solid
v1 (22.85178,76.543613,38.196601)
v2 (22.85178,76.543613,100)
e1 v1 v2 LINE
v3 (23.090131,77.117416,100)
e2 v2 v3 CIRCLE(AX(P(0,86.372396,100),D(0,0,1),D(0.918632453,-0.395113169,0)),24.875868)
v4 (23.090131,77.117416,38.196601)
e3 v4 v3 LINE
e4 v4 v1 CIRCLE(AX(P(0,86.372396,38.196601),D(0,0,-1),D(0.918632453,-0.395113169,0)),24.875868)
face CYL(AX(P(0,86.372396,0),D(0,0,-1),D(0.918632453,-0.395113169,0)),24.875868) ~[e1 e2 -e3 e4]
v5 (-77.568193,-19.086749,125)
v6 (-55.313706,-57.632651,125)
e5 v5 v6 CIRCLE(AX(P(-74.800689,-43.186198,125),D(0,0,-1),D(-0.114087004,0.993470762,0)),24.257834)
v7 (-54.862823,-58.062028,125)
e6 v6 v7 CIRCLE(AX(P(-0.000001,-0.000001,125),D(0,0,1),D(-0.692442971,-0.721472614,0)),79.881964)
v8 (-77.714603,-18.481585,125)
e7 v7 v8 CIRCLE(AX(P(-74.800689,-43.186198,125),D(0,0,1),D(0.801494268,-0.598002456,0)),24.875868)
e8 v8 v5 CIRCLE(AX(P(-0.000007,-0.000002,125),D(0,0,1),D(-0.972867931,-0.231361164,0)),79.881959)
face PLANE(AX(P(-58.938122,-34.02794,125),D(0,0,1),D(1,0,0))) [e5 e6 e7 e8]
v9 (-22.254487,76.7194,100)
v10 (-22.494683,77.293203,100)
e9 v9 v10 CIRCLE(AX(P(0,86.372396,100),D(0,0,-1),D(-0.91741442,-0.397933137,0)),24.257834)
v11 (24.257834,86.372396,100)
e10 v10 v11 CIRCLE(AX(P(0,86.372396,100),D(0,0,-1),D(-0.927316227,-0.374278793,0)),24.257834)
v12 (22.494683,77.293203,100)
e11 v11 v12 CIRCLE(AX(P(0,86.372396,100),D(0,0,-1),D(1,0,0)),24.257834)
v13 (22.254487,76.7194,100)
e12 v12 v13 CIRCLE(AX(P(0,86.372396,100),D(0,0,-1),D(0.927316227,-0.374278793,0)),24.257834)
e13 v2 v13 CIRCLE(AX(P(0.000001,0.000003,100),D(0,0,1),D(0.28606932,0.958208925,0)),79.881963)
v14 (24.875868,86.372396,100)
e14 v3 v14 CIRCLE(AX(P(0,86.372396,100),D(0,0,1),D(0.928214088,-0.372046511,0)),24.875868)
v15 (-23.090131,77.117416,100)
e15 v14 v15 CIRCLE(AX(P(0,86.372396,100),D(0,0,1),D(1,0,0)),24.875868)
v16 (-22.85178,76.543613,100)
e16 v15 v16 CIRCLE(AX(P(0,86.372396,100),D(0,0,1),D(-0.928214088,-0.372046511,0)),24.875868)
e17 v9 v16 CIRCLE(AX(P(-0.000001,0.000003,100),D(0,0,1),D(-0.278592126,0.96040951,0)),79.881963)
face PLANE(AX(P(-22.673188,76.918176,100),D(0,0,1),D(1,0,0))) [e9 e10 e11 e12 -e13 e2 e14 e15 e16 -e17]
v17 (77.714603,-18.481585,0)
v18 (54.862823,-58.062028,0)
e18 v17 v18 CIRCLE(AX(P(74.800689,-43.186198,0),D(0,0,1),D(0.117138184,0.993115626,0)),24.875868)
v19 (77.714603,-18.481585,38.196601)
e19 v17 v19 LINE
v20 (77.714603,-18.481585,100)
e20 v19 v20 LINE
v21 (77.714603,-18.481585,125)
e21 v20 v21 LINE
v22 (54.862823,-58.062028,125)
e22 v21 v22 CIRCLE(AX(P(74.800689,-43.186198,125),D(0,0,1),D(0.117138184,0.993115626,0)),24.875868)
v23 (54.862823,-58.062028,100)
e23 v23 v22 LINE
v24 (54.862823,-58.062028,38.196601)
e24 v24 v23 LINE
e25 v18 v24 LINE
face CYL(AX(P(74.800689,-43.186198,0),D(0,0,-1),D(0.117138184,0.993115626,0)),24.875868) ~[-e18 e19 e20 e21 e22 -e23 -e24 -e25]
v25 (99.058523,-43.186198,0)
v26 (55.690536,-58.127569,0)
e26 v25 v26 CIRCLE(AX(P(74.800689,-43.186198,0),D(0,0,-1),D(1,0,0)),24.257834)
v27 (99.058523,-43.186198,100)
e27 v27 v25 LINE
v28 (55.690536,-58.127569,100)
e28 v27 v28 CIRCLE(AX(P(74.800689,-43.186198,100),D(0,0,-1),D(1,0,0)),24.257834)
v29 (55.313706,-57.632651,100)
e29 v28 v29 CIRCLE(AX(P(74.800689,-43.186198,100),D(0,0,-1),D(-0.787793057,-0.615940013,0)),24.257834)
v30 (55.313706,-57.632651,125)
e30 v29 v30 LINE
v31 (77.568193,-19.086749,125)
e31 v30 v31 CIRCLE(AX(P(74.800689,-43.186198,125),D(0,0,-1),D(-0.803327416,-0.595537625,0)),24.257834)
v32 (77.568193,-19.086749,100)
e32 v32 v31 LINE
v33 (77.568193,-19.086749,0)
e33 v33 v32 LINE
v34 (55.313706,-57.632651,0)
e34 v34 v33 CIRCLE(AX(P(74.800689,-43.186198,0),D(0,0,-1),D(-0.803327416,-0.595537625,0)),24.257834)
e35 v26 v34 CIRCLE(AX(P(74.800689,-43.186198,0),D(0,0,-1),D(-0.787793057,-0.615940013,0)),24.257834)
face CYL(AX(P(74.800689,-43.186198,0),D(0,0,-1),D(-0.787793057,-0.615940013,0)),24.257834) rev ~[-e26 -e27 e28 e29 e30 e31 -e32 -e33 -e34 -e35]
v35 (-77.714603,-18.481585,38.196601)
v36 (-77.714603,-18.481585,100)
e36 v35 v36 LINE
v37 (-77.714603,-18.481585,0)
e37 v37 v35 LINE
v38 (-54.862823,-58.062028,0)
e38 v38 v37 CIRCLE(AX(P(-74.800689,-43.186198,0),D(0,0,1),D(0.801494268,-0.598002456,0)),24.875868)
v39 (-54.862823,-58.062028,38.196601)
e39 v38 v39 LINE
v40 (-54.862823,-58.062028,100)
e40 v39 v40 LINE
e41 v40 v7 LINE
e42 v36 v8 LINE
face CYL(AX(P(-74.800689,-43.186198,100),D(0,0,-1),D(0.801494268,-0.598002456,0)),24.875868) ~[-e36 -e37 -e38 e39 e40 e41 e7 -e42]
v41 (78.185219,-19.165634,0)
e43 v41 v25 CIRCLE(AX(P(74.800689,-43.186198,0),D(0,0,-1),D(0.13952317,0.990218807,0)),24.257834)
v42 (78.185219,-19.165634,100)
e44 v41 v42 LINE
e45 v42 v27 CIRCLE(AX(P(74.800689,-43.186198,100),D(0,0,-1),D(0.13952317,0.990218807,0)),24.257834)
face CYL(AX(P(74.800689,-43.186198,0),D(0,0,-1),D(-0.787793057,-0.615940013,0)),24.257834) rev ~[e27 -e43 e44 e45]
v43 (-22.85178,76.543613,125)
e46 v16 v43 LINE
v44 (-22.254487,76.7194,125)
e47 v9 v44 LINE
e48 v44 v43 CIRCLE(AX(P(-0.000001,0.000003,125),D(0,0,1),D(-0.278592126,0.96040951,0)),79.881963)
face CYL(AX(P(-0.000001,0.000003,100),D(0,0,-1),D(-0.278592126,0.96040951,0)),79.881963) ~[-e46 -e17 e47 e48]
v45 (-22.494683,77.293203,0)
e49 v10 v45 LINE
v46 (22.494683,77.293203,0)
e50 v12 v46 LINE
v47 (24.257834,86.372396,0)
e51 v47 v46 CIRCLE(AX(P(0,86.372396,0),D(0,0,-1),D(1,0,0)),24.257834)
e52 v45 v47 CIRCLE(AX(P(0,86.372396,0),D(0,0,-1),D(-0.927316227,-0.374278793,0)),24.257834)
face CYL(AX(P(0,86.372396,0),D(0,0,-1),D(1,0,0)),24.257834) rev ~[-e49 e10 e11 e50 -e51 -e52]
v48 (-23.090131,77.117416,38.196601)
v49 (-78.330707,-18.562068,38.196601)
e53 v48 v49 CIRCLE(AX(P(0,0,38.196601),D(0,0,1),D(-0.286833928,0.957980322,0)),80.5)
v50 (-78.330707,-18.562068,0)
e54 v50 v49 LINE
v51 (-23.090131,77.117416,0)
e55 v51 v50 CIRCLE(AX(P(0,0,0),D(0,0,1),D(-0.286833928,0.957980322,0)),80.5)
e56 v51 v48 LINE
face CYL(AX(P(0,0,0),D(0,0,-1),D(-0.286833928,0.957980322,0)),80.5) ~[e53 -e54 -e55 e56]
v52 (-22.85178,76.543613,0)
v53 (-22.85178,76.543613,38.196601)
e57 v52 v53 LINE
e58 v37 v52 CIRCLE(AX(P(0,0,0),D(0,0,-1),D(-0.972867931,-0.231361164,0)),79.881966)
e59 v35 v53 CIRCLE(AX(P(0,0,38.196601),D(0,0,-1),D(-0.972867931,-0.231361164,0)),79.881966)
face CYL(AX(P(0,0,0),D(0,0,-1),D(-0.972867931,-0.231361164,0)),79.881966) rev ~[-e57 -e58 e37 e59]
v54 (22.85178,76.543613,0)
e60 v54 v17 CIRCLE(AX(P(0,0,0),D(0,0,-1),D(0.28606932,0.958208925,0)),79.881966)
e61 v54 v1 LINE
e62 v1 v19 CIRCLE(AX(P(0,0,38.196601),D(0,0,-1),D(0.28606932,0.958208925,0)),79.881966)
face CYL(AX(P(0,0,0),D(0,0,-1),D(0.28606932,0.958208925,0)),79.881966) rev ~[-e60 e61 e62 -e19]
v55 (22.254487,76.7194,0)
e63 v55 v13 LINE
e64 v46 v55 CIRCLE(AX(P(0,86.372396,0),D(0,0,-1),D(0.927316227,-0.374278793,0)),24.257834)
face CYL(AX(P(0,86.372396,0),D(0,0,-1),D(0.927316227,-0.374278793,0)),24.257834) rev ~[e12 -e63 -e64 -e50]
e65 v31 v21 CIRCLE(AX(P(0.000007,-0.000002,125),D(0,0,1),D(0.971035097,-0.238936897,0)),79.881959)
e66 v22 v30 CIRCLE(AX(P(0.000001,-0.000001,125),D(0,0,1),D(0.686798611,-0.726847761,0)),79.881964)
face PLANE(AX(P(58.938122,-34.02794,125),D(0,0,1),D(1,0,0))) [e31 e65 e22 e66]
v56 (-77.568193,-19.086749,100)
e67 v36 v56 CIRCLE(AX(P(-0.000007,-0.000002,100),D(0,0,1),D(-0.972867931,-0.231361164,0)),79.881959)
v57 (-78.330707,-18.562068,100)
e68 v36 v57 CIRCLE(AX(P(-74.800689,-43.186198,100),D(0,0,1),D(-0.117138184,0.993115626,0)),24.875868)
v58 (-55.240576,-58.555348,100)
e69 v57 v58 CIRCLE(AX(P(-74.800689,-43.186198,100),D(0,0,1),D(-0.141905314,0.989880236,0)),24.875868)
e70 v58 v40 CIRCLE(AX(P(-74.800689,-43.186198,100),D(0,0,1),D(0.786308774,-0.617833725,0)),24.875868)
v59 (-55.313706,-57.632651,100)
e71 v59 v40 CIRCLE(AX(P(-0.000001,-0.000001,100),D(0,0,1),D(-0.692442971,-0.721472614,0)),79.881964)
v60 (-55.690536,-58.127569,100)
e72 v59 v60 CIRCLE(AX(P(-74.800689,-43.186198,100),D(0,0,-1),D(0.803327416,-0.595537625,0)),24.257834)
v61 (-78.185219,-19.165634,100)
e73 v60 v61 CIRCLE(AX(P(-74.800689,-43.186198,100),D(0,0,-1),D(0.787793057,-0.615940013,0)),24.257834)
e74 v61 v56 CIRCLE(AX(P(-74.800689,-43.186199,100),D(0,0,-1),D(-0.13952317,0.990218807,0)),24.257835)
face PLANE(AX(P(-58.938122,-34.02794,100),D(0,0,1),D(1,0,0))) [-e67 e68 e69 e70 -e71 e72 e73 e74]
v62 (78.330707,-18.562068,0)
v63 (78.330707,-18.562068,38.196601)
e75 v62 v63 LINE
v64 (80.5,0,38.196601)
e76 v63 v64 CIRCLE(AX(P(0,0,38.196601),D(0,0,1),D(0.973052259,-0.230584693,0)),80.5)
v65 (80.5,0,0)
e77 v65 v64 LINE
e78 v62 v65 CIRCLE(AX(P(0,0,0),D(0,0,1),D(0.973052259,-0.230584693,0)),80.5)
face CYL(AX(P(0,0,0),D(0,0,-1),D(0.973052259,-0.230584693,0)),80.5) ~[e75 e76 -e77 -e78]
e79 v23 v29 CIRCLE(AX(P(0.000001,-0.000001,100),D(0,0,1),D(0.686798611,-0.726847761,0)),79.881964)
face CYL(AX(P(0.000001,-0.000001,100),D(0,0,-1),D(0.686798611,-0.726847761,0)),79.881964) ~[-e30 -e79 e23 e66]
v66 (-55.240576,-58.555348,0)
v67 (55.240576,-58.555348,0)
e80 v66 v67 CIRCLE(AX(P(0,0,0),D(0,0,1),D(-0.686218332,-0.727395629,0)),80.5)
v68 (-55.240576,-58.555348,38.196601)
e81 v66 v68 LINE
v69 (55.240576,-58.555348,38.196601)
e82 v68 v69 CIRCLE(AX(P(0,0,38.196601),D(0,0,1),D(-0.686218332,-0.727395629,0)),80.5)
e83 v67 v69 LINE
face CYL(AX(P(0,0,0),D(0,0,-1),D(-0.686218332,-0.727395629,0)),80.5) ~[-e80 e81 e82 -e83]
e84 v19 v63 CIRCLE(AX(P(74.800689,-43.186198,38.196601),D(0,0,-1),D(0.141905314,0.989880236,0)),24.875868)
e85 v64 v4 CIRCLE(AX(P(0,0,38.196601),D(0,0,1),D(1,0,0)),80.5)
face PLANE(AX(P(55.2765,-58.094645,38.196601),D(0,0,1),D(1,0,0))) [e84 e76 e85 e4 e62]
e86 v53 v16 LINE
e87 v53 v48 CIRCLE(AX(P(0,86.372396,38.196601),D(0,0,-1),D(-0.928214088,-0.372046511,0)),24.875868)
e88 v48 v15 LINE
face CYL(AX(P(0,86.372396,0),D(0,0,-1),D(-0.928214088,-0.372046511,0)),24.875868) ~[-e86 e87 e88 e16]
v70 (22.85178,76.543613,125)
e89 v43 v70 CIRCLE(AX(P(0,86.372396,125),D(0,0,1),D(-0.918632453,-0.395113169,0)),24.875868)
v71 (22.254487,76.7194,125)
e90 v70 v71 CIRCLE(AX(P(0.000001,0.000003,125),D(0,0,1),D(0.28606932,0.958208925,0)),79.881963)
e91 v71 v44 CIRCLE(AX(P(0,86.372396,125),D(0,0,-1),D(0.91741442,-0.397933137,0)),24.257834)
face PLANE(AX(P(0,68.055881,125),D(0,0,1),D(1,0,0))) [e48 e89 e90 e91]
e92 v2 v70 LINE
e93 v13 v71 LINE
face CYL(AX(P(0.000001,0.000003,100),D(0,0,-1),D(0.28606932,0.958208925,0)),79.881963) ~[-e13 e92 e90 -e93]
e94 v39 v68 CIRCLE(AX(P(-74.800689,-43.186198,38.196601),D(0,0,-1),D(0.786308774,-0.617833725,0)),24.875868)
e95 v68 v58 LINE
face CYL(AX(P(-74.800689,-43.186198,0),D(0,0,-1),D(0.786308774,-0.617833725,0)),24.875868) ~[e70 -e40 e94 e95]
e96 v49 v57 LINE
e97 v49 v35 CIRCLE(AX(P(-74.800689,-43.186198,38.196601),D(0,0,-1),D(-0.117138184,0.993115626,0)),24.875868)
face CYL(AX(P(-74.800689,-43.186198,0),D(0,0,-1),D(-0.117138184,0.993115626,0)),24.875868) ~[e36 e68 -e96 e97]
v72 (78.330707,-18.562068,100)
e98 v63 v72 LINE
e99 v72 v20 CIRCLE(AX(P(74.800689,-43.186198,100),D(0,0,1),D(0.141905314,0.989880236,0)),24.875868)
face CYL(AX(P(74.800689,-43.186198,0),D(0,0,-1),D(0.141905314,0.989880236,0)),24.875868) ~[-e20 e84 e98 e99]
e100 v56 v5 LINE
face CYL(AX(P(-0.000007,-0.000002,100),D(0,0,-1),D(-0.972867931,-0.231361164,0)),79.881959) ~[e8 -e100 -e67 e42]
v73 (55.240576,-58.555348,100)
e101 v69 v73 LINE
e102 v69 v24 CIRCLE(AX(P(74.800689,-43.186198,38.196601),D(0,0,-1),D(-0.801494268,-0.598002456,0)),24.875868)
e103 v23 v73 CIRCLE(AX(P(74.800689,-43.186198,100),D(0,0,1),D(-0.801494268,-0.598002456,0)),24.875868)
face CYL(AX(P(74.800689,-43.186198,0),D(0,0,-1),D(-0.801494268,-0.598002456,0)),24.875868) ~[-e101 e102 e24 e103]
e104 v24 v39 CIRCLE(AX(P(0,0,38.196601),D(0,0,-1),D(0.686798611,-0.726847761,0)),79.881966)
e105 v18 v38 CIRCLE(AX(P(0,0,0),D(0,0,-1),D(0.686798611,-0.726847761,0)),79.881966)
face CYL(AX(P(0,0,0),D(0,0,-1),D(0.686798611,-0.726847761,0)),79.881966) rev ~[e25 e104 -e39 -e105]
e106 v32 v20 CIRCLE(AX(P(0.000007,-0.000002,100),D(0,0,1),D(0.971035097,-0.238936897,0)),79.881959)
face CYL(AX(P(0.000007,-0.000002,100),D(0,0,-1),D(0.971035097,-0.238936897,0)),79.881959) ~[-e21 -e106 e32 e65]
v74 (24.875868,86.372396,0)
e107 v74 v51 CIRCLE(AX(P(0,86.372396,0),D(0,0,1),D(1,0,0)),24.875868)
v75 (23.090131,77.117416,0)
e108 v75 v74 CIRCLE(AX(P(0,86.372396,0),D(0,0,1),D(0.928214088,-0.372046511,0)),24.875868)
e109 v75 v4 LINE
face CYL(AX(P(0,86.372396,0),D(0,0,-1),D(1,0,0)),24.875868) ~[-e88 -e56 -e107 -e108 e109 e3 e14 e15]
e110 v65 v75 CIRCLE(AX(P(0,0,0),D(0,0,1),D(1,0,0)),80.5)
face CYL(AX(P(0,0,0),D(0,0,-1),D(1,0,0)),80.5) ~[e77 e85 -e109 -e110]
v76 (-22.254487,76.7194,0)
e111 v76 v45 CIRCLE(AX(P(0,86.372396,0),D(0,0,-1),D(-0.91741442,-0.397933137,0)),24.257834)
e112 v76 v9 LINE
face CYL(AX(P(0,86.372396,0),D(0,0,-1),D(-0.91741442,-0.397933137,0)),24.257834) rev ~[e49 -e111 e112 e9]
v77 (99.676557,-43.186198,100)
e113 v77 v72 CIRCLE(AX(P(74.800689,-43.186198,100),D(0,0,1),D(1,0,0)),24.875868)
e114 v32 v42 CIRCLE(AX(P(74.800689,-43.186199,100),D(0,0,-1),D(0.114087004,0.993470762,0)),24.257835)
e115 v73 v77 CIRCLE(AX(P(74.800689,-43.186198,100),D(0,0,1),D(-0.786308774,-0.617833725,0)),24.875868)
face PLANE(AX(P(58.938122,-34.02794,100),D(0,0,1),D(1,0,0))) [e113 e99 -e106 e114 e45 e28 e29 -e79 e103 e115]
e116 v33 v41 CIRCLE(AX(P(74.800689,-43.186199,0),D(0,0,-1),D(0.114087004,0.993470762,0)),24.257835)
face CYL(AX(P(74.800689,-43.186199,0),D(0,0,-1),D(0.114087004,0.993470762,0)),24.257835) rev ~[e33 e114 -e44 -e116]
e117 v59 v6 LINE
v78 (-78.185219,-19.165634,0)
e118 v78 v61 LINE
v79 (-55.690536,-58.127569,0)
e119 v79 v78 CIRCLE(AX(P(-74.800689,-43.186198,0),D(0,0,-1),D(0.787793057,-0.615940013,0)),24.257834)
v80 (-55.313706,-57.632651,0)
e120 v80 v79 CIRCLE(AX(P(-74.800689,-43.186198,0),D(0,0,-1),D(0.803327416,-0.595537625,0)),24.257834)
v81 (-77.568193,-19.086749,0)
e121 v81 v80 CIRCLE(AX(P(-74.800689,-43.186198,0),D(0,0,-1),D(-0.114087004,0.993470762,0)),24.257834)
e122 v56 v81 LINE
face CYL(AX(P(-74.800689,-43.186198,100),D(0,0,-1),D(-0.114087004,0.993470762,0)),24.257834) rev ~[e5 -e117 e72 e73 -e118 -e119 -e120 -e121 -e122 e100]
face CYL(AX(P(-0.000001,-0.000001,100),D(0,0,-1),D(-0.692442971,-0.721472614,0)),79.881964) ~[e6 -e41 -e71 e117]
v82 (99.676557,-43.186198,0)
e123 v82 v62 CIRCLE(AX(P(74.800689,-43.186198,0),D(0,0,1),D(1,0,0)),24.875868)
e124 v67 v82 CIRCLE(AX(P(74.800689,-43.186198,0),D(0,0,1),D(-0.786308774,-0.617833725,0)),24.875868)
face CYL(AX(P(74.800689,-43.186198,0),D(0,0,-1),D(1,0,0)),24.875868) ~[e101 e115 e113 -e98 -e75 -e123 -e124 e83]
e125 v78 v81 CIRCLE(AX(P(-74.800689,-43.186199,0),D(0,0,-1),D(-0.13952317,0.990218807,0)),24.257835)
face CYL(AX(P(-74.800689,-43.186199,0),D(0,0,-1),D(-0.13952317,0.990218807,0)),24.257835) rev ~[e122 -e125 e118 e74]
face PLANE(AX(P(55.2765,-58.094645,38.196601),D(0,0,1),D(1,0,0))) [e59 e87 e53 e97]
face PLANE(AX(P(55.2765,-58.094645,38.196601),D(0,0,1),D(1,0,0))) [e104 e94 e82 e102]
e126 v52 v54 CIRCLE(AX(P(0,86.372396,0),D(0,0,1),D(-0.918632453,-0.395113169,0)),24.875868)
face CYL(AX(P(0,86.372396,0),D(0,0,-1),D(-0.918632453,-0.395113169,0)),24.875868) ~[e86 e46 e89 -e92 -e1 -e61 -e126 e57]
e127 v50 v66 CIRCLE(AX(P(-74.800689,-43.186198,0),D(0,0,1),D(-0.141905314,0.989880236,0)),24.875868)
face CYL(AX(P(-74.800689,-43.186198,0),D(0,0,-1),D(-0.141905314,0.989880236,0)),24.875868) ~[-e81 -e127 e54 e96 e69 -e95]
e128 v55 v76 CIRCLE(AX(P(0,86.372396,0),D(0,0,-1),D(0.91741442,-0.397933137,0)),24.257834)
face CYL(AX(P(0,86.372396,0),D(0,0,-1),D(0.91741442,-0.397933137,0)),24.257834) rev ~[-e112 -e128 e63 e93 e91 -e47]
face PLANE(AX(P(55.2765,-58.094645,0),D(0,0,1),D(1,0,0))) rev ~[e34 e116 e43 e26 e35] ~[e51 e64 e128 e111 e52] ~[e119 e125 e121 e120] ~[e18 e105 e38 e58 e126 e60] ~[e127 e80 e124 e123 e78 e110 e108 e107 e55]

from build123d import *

# Parameters (mm, degrees)
F5_DEPTH = 38.196601125
F6_DEPTH = 100
F8_DEPTH = 25


with BuildPart() as f5:
    # F4 (on Top) → F5 (new body)
    with BuildSketch(Plane.XY):
        with BuildLine():
            ThreePointArc((55.2405756929, -58.5553481513), (55.4659681323, -58.3418921457), (55.6905357594, -58.1275685611))
            ThreePointArc((55.6905357594, -58.1275685611), (55.5005343284, -57.8813176256), (55.3137058467, -57.6326508095))
            ThreePointArc((55.3137058467, -57.6326508095), (55.0886829293, -57.8477787555), (54.8628233356, -58.0620281206))
            ThreePointArc((54.8628233356, -58.0620281206), (55.0501592129, -58.3098675984), (55.2405756929, -58.5553481513))
        make_face()
        with BuildLine():
            ThreePointArc((-55.2405756929, -58.5553481513), (0, -80.5), (55.2405756929, -58.5553481513))
            ThreePointArc((55.2405756929, -58.5553481513), (55.0501592129, -58.3098675984), (54.8628233356, -58.0620281206))
            ThreePointArc((54.8628233356, -58.0620281206), (0, -79.8819660113), (-54.8628233356, -58.0620281206))
            ThreePointArc((-54.8628233356, -58.0620281206), (-55.0501592129, -58.3098675984), (-55.2405756929, -58.5553481513))
        make_face()
        with BuildLine():
            ThreePointArc((-55.6905357594, -58.1275685611), (-55.4659681323, -58.3418921457), (-55.2405756929, -58.5553481513))
            ThreePointArc((-55.2405756929, -58.5553481513), (-55.0501592129, -58.3098675984), (-54.8628233356, -58.0620281206))
            ThreePointArc((-54.8628233356, -58.0620281206), (-55.0886829293, -57.8477787555), (-55.3137058467, -57.6326508095))
            ThreePointArc((-55.3137058467, -57.6326508095), (-55.5005343284, -57.8813176256), (-55.6905357594, -58.1275685611))
        make_face()
        with BuildLine():
            ThreePointArc((-77.7146030154, -18.4815846716), (-69.17981187, 39.9409830056), (-22.8517796799, 76.5436127922))
            ThreePointArc((-22.8517796799, 76.5436127922), (-22.9727470251, 76.8297701599), (-23.09013118, 77.1174159454))
            ThreePointArc((-23.09013118, 77.1174159454), (-69.7150450046, 40.25), (-78.3307068729, -18.5620677941))
            ThreePointArc((-78.3307068729, -18.5620677941), (-78.022906238, -18.5199025615), (-77.7146030154, -18.4815846716))
        make_face()
        with BuildLine():
            ThreePointArc((-77.5681926118, -19.0867490359), (-77.6419874194, -18.7843095), (-77.7146030154, -18.4815846716))
            ThreePointArc((-77.7146030154, -18.4815846716), (-78.022906238, -18.5199025615), (-78.3307068729, -18.5620677941))
            ThreePointArc((-78.3307068729, -18.5620677941), (-78.2585447692, -18.8639913752), (-78.1852189139, -19.1656344374))
            ThreePointArc((-78.1852189139, -19.1656344374), (-77.8769586325, -19.1242138392), (-77.5681926118, -19.0867490359))
        make_face()
        with BuildLine():
            ThreePointArc((-22.2544867651, 76.7193998454), (-22.3764243041, 77.0055314648), (-22.4946831545, 77.2932029986))
            ThreePointArc((-22.4946831545, 77.2932029986), (-22.7925766369, 77.205883521), (-23.09013118, 77.1174159454))
            ThreePointArc((-23.09013118, 77.1174159454), (-22.9727470251, 76.8297701599), (-22.8517796799, 76.5436127922))
            ThreePointArc((-22.8517796799, 76.5436127922), (-22.5533044901, 76.6320882555), (-22.2544867651, 76.7193998454))
        make_face()
        with BuildLine():
            ThreePointArc((22.8517796799, 76.5436127922), (22.9727470251, 76.8297701599), (23.09013118, 77.1174159454))
            ThreePointArc((23.09013118, 77.1174159454), (22.7925766369, 77.205883521), (22.4946831545, 77.2932029986))
            ThreePointArc((22.4946831545, 77.2932029986), (22.3764243041, 77.0055314648), (22.2544867651, 76.7193998454))
            ThreePointArc((22.2544867651, 76.7193998454), (22.5533044901, 76.6320882555), (22.8517796799, 76.5436127922))
        make_face()
        with BuildLine():
            ThreePointArc((78.3307068729, -18.5620677941), (79.9558375082, -9.3441986476), (80.5, 0))
            ThreePointArc((80.5, 0), (64.5716871391, 48.0702321609), (23.09013118, 77.1174159454))
            ThreePointArc((23.09013118, 77.1174159454), (22.9727470251, 76.8297701599), (22.8517796799, 76.5436127922))
            ThreePointArc((22.8517796799, 76.5436127922), (64.0569027565, 47.7267399166), (79.8819660113, 0))
            ThreePointArc((79.8819660113, 0), (79.3382750332, -9.3041178294), (77.7146030154, -18.4815846716))
            ThreePointArc((77.7146030154, -18.4815846716), (78.022906238, -18.5199025615), (78.3307068729, -18.5620677941))
        make_face()
        with BuildLine():
            ThreePointArc((78.1852189139, -19.1656344374), (78.2585447692, -18.8639913752), (78.3307068729, -18.5620677941))
            ThreePointArc((78.3307068729, -18.5620677941), (78.022906238, -18.5199025615), (77.7146030154, -18.4815846716))
            ThreePointArc((77.7146030154, -18.4815846716), (77.6419874194, -18.7843095), (77.5681926118, -19.0867490359))
            ThreePointArc((77.5681926118, -19.0867490359), (77.8769586325, -19.1242138392), (78.1852189139, -19.1656344374))
        make_face()
        with BuildLine():
            ThreePointArc((99.6765570463, -43.1861979292), (93.5972454648, -26.8920800907), (78.3307068729, -18.5620677941))
            ThreePointArc((78.3307068729, -18.5620677941), (78.2585447692, -18.8639913752), (78.1852189139, -19.1656344374))
            ThreePointArc((78.1852189139, -19.1656344374), (93.1111215206, -27.2748631617), (99.0585230576, -43.1861979292))
            ThreePointArc((99.0585230576, -43.1861979292), (82.7023213332, -66.1210343067), (55.6905357594, -58.1275685611))
            ThreePointArc((55.6905357594, -58.1275685611), (55.4659681323, -58.3418921457), (55.2405756929, -58.5553481513))
            ThreePointArc((55.2405756929, -58.5553481513), (82.9319254828, -66.6955961424), (99.6765570463, -43.1861979292))
        make_face()
        with BuildLine():
            ThreePointArc((77.5681926118, -19.0867490359), (77.6419874194, -18.7843095), (77.7146030154, -18.4815846716))
            ThreePointArc((77.7146030154, -18.4815846716), (53.2575553291, -30.7482639056), (54.8628233356, -58.0620281206))
            ThreePointArc((54.8628233356, -58.0620281206), (55.0886829293, -57.8477787555), (55.3137058467, -57.6326508095))
            ThreePointArc((55.3137058467, -57.6326508095), (53.7927884638, -31.0572809), (77.5681926118, -19.0867490359))
        make_face()
        with BuildLine():
            ThreePointArc((-22.8517796799, 76.5436127922), (0, 61.4965278113), (22.8517796799, 76.5436127922))
            ThreePointArc((22.8517796799, 76.5436127922), (22.5533044901, 76.6320882555), (22.2544867651, 76.7193998454))
            ThreePointArc((22.2544867651, 76.7193998454), (0, 62.1145618), (-22.2544867651, 76.7193998454))
            ThreePointArc((-22.2544867651, 76.7193998454), (-22.5533044901, 76.6320882555), (-22.8517796799, 76.5436127922))
        make_face()
        with BuildLine():
            ThreePointArc((22.4946831545, 77.2932029986), (22.7925766369, 77.205883521), (23.09013118, 77.1174159454))
            ThreePointArc((23.09013118, 77.1174159454), (24.4253543222, 81.6595541109), (24.8758680472, 86.3723958584))
            ThreePointArc((24.8758680472, 86.3723958584), (-4.7128417476, 110.7977501806), (-23.09013118, 77.1174159454))
            ThreePointArc((-23.09013118, 77.1174159454), (-22.7925766369, 77.205883521), (-22.4946831545, 77.2932029986))
            ThreePointArc((-22.4946831545, 77.2932029986), (-4.6244038561, 110.1853629601), (24.2578340584, 86.3723958584))
            ThreePointArc((24.2578340584, 86.3723958584), (23.8129671016, 81.7479920024), (22.4946831545, 77.2932029986))
        make_face()
        with BuildLine():
            ThreePointArc((-78.1852189139, -19.1656344374), (-78.2585447692, -18.8639913752), (-78.3307068729, -18.5620677941))
            ThreePointArc((-78.3307068729, -18.5620677941), (-96.3438226692, -55.6241319528), (-55.2405756929, -58.5553481513))
            ThreePointArc((-55.2405756929, -58.5553481513), (-55.4659681323, -58.3418921457), (-55.6905357594, -58.1275685611))
            ThreePointArc((-55.6905357594, -58.1275685611), (-95.8085895345, -55.3151149584), (-78.1852189139, -19.1656344374))
        make_face()
        with BuildLine():
            ThreePointArc((-49.924820952, -43.1861979292), (-58.2730958512, -24.5946010146), (-77.7146030154, -18.4815846716))
            ThreePointArc((-77.7146030154, -18.4815846716), (-77.6419874194, -18.7843095), (-77.5681926118, -19.0867490359))
            ThreePointArc((-77.5681926118, -19.0867490359), (-58.6558930913, -25.0812793075), (-50.5428549407, -43.1861979292))
            ThreePointArc((-50.5428549407, -43.1861979292), (-51.7664262931, -50.7931194351), (-55.3137058467, -57.6326508095))
            ThreePointArc((-55.3137058467, -57.6326508095), (-55.0886829293, -57.8477787555), (-54.8628233356, -58.0620281206))
            ThreePointArc((-54.8628233356, -58.0620281206), (-51.1915750123, -51.0231965802), (-49.924820952, -43.1861979292))
        make_face()
    extrude(amount=F5_DEPTH)

    # F4 (on Top) → F6 (join)
    with BuildSketch(Plane.XY):
        with BuildLine():
            ThreePointArc((-49.924820952, -43.1861979292), (-58.2730958512, -24.5946010146), (-77.7146030154, -18.4815846716))
            ThreePointArc((-77.7146030154, -18.4815846716), (-77.6419874194, -18.7843095), (-77.5681926118, -19.0867490359))
            ThreePointArc((-77.5681926118, -19.0867490359), (-58.6558930913, -25.0812793075), (-50.5428549407, -43.1861979292))
            ThreePointArc((-50.5428549407, -43.1861979292), (-51.7664262931, -50.7931194351), (-55.3137058467, -57.6326508095))
            ThreePointArc((-55.3137058467, -57.6326508095), (-55.0886829293, -57.8477787555), (-54.8628233356, -58.0620281206))
            ThreePointArc((-54.8628233356, -58.0620281206), (-51.1915750123, -51.0231965802), (-49.924820952, -43.1861979292))
        make_face()
        with BuildLine():
            ThreePointArc((77.5681926118, -19.0867490359), (77.6419874194, -18.7843095), (77.7146030154, -18.4815846716))
            ThreePointArc((77.7146030154, -18.4815846716), (53.2575553291, -30.7482639056), (54.8628233356, -58.0620281206))
            ThreePointArc((54.8628233356, -58.0620281206), (55.0886829293, -57.8477787555), (55.3137058467, -57.6326508095))
            ThreePointArc((55.3137058467, -57.6326508095), (53.7927884638, -31.0572809), (77.5681926118, -19.0867490359))
        make_face()
        with BuildLine():
            ThreePointArc((55.2405756929, -58.5553481513), (55.4659681323, -58.3418921457), (55.6905357594, -58.1275685611))
            ThreePointArc((55.6905357594, -58.1275685611), (55.5005343284, -57.8813176256), (55.3137058467, -57.6326508095))
            ThreePointArc((55.3137058467, -57.6326508095), (55.0886829293, -57.8477787555), (54.8628233356, -58.0620281206))
            ThreePointArc((54.8628233356, -58.0620281206), (55.0501592129, -58.3098675984), (55.2405756929, -58.5553481513))
        make_face()
        with BuildLine():
            ThreePointArc((78.1852189139, -19.1656344374), (78.2585447692, -18.8639913752), (78.3307068729, -18.5620677941))
            ThreePointArc((78.3307068729, -18.5620677941), (78.022906238, -18.5199025615), (77.7146030154, -18.4815846716))
            ThreePointArc((77.7146030154, -18.4815846716), (77.6419874194, -18.7843095), (77.5681926118, -19.0867490359))
            ThreePointArc((77.5681926118, -19.0867490359), (77.8769586325, -19.1242138392), (78.1852189139, -19.1656344374))
        make_face()
        with BuildLine():
            ThreePointArc((-77.5681926118, -19.0867490359), (-77.6419874194, -18.7843095), (-77.7146030154, -18.4815846716))
            ThreePointArc((-77.7146030154, -18.4815846716), (-78.022906238, -18.5199025615), (-78.3307068729, -18.5620677941))
            ThreePointArc((-78.3307068729, -18.5620677941), (-78.2585447692, -18.8639913752), (-78.1852189139, -19.1656344374))
            ThreePointArc((-78.1852189139, -19.1656344374), (-77.8769586325, -19.1242138392), (-77.5681926118, -19.0867490359))
        make_face()
        with BuildLine():
            ThreePointArc((-55.6905357594, -58.1275685611), (-55.4659681323, -58.3418921457), (-55.2405756929, -58.5553481513))
            ThreePointArc((-55.2405756929, -58.5553481513), (-55.0501592129, -58.3098675984), (-54.8628233356, -58.0620281206))
            ThreePointArc((-54.8628233356, -58.0620281206), (-55.0886829293, -57.8477787555), (-55.3137058467, -57.6326508095))
            ThreePointArc((-55.3137058467, -57.6326508095), (-55.5005343284, -57.8813176256), (-55.6905357594, -58.1275685611))
        make_face()
        with BuildLine():
            ThreePointArc((-22.2544867651, 76.7193998454), (-22.3764243041, 77.0055314648), (-22.4946831545, 77.2932029986))
            ThreePointArc((-22.4946831545, 77.2932029986), (-22.7925766369, 77.205883521), (-23.09013118, 77.1174159454))
            ThreePointArc((-23.09013118, 77.1174159454), (-22.9727470251, 76.8297701599), (-22.8517796799, 76.5436127922))
            ThreePointArc((-22.8517796799, 76.5436127922), (-22.5533044901, 76.6320882555), (-22.2544867651, 76.7193998454))
        make_face()
        with BuildLine():
            ThreePointArc((-22.8517796799, 76.5436127922), (0, 61.4965278113), (22.8517796799, 76.5436127922))
            ThreePointArc((22.8517796799, 76.5436127922), (22.5533044901, 76.6320882555), (22.2544867651, 76.7193998454))
            ThreePointArc((22.2544867651, 76.7193998454), (0, 62.1145618), (-22.2544867651, 76.7193998454))
            ThreePointArc((-22.2544867651, 76.7193998454), (-22.5533044901, 76.6320882555), (-22.8517796799, 76.5436127922))
        make_face()
        with BuildLine():
            ThreePointArc((22.8517796799, 76.5436127922), (22.9727470251, 76.8297701599), (23.09013118, 77.1174159454))
            ThreePointArc((23.09013118, 77.1174159454), (22.7925766369, 77.205883521), (22.4946831545, 77.2932029986))
            ThreePointArc((22.4946831545, 77.2932029986), (22.3764243041, 77.0055314648), (22.2544867651, 76.7193998454))
            ThreePointArc((22.2544867651, 76.7193998454), (22.5533044901, 76.6320882555), (22.8517796799, 76.5436127922))
        make_face()
        with BuildLine():
            ThreePointArc((22.4946831545, 77.2932029986), (22.7925766369, 77.205883521), (23.09013118, 77.1174159454))
            ThreePointArc((23.09013118, 77.1174159454), (24.4253543222, 81.6595541109), (24.8758680472, 86.3723958584))
            ThreePointArc((24.8758680472, 86.3723958584), (-4.7128417476, 110.7977501806), (-23.09013118, 77.1174159454))
            ThreePointArc((-23.09013118, 77.1174159454), (-22.7925766369, 77.205883521), (-22.4946831545, 77.2932029986))
            ThreePointArc((-22.4946831545, 77.2932029986), (-4.6244038561, 110.1853629601), (24.2578340584, 86.3723958584))
            ThreePointArc((24.2578340584, 86.3723958584), (23.8129671016, 81.7479920024), (22.4946831545, 77.2932029986))
        make_face()
        with BuildLine():
            ThreePointArc((-78.1852189139, -19.1656344374), (-78.2585447692, -18.8639913752), (-78.3307068729, -18.5620677941))
            ThreePointArc((-78.3307068729, -18.5620677941), (-96.3438226692, -55.6241319528), (-55.2405756929, -58.5553481513))
            ThreePointArc((-55.2405756929, -58.5553481513), (-55.4659681323, -58.3418921457), (-55.6905357594, -58.1275685611))
            ThreePointArc((-55.6905357594, -58.1275685611), (-95.8085895345, -55.3151149584), (-78.1852189139, -19.1656344374))
        make_face()
        with BuildLine():
            ThreePointArc((99.6765570463, -43.1861979292), (93.5972454648, -26.8920800907), (78.3307068729, -18.5620677941))
            ThreePointArc((78.3307068729, -18.5620677941), (78.2585447692, -18.8639913752), (78.1852189139, -19.1656344374))
            ThreePointArc((78.1852189139, -19.1656344374), (93.1111215206, -27.2748631617), (99.0585230576, -43.1861979292))
            ThreePointArc((99.0585230576, -43.1861979292), (82.7023213332, -66.1210343067), (55.6905357594, -58.1275685611))
            ThreePointArc((55.6905357594, -58.1275685611), (55.4659681323, -58.3418921457), (55.2405756929, -58.5553481513))
            ThreePointArc((55.2405756929, -58.5553481513), (82.9319254828, -66.6955961424), (99.6765570463, -43.1861979292))
        make_face()
    extrude(amount=F6_DEPTH)

    # F7 (on face) → F8 (join)
    with BuildSketch(Plane.XY.offset(100)):
        with BuildLine():
            ThreePointArc((-49.924820952, -43.1861979292), (-58.2730958512, -24.5946010146), (-77.7146030154, -18.4815846716))
            ThreePointArc((-77.7146030154, -18.4815846716), (-77.6419874194, -18.7843095), (-77.5681926118, -19.0867490359))
            ThreePointArc((-77.5681926118, -19.0867490359), (-58.6558930913, -25.0812793075), (-50.5428549407, -43.1861979292))
            ThreePointArc((-50.5428549407, -43.1861979292), (-51.7664262931, -50.7931194351), (-55.3137058467, -57.6326508095))
            ThreePointArc((-55.3137058467, -57.6326508095), (-55.0886829293, -57.8477787555), (-54.8628233356, -58.0620281206))
            ThreePointArc((-54.8628233356, -58.0620281206), (-51.1915750123, -51.0231965802), (-49.924820952, -43.1861979292))
        make_face()
        with BuildLine():
            ThreePointArc((-22.2544867651, 76.7193998454), (-22.5533044901, 76.6320882555), (-22.8517796799, 76.5436127922))
            ThreePointArc((-22.8517796799, 76.5436127922), (0, 61.4965278113), (22.8517796799, 76.5436127922))
            ThreePointArc((22.8517796799, 76.5436127922), (22.5533044901, 76.6320882555), (22.2544867651, 76.7193998454))
            ThreePointArc((22.2544867651, 76.7193998454), (0, 62.1145618), (-22.2544867651, 76.7193998454))
        make_face()
        with BuildLine():
            ThreePointArc((77.5681926118, -19.0867490359), (77.6419874194, -18.7843095), (77.7146030154, -18.4815846716))
            ThreePointArc((77.7146030154, -18.4815846716), (53.2575553291, -30.7482639056), (54.8628233356, -58.0620281206))
            ThreePointArc((54.8628233356, -58.0620281206), (55.0886829293, -57.8477787555), (55.3137058467, -57.6326508095))
            ThreePointArc((55.3137058467, -57.6326508095), (53.7927884638, -31.0572809), (77.5681926118, -19.0867490359))
        make_face()
    extrude(amount=F8_DEPTH)


solid = f5.part
